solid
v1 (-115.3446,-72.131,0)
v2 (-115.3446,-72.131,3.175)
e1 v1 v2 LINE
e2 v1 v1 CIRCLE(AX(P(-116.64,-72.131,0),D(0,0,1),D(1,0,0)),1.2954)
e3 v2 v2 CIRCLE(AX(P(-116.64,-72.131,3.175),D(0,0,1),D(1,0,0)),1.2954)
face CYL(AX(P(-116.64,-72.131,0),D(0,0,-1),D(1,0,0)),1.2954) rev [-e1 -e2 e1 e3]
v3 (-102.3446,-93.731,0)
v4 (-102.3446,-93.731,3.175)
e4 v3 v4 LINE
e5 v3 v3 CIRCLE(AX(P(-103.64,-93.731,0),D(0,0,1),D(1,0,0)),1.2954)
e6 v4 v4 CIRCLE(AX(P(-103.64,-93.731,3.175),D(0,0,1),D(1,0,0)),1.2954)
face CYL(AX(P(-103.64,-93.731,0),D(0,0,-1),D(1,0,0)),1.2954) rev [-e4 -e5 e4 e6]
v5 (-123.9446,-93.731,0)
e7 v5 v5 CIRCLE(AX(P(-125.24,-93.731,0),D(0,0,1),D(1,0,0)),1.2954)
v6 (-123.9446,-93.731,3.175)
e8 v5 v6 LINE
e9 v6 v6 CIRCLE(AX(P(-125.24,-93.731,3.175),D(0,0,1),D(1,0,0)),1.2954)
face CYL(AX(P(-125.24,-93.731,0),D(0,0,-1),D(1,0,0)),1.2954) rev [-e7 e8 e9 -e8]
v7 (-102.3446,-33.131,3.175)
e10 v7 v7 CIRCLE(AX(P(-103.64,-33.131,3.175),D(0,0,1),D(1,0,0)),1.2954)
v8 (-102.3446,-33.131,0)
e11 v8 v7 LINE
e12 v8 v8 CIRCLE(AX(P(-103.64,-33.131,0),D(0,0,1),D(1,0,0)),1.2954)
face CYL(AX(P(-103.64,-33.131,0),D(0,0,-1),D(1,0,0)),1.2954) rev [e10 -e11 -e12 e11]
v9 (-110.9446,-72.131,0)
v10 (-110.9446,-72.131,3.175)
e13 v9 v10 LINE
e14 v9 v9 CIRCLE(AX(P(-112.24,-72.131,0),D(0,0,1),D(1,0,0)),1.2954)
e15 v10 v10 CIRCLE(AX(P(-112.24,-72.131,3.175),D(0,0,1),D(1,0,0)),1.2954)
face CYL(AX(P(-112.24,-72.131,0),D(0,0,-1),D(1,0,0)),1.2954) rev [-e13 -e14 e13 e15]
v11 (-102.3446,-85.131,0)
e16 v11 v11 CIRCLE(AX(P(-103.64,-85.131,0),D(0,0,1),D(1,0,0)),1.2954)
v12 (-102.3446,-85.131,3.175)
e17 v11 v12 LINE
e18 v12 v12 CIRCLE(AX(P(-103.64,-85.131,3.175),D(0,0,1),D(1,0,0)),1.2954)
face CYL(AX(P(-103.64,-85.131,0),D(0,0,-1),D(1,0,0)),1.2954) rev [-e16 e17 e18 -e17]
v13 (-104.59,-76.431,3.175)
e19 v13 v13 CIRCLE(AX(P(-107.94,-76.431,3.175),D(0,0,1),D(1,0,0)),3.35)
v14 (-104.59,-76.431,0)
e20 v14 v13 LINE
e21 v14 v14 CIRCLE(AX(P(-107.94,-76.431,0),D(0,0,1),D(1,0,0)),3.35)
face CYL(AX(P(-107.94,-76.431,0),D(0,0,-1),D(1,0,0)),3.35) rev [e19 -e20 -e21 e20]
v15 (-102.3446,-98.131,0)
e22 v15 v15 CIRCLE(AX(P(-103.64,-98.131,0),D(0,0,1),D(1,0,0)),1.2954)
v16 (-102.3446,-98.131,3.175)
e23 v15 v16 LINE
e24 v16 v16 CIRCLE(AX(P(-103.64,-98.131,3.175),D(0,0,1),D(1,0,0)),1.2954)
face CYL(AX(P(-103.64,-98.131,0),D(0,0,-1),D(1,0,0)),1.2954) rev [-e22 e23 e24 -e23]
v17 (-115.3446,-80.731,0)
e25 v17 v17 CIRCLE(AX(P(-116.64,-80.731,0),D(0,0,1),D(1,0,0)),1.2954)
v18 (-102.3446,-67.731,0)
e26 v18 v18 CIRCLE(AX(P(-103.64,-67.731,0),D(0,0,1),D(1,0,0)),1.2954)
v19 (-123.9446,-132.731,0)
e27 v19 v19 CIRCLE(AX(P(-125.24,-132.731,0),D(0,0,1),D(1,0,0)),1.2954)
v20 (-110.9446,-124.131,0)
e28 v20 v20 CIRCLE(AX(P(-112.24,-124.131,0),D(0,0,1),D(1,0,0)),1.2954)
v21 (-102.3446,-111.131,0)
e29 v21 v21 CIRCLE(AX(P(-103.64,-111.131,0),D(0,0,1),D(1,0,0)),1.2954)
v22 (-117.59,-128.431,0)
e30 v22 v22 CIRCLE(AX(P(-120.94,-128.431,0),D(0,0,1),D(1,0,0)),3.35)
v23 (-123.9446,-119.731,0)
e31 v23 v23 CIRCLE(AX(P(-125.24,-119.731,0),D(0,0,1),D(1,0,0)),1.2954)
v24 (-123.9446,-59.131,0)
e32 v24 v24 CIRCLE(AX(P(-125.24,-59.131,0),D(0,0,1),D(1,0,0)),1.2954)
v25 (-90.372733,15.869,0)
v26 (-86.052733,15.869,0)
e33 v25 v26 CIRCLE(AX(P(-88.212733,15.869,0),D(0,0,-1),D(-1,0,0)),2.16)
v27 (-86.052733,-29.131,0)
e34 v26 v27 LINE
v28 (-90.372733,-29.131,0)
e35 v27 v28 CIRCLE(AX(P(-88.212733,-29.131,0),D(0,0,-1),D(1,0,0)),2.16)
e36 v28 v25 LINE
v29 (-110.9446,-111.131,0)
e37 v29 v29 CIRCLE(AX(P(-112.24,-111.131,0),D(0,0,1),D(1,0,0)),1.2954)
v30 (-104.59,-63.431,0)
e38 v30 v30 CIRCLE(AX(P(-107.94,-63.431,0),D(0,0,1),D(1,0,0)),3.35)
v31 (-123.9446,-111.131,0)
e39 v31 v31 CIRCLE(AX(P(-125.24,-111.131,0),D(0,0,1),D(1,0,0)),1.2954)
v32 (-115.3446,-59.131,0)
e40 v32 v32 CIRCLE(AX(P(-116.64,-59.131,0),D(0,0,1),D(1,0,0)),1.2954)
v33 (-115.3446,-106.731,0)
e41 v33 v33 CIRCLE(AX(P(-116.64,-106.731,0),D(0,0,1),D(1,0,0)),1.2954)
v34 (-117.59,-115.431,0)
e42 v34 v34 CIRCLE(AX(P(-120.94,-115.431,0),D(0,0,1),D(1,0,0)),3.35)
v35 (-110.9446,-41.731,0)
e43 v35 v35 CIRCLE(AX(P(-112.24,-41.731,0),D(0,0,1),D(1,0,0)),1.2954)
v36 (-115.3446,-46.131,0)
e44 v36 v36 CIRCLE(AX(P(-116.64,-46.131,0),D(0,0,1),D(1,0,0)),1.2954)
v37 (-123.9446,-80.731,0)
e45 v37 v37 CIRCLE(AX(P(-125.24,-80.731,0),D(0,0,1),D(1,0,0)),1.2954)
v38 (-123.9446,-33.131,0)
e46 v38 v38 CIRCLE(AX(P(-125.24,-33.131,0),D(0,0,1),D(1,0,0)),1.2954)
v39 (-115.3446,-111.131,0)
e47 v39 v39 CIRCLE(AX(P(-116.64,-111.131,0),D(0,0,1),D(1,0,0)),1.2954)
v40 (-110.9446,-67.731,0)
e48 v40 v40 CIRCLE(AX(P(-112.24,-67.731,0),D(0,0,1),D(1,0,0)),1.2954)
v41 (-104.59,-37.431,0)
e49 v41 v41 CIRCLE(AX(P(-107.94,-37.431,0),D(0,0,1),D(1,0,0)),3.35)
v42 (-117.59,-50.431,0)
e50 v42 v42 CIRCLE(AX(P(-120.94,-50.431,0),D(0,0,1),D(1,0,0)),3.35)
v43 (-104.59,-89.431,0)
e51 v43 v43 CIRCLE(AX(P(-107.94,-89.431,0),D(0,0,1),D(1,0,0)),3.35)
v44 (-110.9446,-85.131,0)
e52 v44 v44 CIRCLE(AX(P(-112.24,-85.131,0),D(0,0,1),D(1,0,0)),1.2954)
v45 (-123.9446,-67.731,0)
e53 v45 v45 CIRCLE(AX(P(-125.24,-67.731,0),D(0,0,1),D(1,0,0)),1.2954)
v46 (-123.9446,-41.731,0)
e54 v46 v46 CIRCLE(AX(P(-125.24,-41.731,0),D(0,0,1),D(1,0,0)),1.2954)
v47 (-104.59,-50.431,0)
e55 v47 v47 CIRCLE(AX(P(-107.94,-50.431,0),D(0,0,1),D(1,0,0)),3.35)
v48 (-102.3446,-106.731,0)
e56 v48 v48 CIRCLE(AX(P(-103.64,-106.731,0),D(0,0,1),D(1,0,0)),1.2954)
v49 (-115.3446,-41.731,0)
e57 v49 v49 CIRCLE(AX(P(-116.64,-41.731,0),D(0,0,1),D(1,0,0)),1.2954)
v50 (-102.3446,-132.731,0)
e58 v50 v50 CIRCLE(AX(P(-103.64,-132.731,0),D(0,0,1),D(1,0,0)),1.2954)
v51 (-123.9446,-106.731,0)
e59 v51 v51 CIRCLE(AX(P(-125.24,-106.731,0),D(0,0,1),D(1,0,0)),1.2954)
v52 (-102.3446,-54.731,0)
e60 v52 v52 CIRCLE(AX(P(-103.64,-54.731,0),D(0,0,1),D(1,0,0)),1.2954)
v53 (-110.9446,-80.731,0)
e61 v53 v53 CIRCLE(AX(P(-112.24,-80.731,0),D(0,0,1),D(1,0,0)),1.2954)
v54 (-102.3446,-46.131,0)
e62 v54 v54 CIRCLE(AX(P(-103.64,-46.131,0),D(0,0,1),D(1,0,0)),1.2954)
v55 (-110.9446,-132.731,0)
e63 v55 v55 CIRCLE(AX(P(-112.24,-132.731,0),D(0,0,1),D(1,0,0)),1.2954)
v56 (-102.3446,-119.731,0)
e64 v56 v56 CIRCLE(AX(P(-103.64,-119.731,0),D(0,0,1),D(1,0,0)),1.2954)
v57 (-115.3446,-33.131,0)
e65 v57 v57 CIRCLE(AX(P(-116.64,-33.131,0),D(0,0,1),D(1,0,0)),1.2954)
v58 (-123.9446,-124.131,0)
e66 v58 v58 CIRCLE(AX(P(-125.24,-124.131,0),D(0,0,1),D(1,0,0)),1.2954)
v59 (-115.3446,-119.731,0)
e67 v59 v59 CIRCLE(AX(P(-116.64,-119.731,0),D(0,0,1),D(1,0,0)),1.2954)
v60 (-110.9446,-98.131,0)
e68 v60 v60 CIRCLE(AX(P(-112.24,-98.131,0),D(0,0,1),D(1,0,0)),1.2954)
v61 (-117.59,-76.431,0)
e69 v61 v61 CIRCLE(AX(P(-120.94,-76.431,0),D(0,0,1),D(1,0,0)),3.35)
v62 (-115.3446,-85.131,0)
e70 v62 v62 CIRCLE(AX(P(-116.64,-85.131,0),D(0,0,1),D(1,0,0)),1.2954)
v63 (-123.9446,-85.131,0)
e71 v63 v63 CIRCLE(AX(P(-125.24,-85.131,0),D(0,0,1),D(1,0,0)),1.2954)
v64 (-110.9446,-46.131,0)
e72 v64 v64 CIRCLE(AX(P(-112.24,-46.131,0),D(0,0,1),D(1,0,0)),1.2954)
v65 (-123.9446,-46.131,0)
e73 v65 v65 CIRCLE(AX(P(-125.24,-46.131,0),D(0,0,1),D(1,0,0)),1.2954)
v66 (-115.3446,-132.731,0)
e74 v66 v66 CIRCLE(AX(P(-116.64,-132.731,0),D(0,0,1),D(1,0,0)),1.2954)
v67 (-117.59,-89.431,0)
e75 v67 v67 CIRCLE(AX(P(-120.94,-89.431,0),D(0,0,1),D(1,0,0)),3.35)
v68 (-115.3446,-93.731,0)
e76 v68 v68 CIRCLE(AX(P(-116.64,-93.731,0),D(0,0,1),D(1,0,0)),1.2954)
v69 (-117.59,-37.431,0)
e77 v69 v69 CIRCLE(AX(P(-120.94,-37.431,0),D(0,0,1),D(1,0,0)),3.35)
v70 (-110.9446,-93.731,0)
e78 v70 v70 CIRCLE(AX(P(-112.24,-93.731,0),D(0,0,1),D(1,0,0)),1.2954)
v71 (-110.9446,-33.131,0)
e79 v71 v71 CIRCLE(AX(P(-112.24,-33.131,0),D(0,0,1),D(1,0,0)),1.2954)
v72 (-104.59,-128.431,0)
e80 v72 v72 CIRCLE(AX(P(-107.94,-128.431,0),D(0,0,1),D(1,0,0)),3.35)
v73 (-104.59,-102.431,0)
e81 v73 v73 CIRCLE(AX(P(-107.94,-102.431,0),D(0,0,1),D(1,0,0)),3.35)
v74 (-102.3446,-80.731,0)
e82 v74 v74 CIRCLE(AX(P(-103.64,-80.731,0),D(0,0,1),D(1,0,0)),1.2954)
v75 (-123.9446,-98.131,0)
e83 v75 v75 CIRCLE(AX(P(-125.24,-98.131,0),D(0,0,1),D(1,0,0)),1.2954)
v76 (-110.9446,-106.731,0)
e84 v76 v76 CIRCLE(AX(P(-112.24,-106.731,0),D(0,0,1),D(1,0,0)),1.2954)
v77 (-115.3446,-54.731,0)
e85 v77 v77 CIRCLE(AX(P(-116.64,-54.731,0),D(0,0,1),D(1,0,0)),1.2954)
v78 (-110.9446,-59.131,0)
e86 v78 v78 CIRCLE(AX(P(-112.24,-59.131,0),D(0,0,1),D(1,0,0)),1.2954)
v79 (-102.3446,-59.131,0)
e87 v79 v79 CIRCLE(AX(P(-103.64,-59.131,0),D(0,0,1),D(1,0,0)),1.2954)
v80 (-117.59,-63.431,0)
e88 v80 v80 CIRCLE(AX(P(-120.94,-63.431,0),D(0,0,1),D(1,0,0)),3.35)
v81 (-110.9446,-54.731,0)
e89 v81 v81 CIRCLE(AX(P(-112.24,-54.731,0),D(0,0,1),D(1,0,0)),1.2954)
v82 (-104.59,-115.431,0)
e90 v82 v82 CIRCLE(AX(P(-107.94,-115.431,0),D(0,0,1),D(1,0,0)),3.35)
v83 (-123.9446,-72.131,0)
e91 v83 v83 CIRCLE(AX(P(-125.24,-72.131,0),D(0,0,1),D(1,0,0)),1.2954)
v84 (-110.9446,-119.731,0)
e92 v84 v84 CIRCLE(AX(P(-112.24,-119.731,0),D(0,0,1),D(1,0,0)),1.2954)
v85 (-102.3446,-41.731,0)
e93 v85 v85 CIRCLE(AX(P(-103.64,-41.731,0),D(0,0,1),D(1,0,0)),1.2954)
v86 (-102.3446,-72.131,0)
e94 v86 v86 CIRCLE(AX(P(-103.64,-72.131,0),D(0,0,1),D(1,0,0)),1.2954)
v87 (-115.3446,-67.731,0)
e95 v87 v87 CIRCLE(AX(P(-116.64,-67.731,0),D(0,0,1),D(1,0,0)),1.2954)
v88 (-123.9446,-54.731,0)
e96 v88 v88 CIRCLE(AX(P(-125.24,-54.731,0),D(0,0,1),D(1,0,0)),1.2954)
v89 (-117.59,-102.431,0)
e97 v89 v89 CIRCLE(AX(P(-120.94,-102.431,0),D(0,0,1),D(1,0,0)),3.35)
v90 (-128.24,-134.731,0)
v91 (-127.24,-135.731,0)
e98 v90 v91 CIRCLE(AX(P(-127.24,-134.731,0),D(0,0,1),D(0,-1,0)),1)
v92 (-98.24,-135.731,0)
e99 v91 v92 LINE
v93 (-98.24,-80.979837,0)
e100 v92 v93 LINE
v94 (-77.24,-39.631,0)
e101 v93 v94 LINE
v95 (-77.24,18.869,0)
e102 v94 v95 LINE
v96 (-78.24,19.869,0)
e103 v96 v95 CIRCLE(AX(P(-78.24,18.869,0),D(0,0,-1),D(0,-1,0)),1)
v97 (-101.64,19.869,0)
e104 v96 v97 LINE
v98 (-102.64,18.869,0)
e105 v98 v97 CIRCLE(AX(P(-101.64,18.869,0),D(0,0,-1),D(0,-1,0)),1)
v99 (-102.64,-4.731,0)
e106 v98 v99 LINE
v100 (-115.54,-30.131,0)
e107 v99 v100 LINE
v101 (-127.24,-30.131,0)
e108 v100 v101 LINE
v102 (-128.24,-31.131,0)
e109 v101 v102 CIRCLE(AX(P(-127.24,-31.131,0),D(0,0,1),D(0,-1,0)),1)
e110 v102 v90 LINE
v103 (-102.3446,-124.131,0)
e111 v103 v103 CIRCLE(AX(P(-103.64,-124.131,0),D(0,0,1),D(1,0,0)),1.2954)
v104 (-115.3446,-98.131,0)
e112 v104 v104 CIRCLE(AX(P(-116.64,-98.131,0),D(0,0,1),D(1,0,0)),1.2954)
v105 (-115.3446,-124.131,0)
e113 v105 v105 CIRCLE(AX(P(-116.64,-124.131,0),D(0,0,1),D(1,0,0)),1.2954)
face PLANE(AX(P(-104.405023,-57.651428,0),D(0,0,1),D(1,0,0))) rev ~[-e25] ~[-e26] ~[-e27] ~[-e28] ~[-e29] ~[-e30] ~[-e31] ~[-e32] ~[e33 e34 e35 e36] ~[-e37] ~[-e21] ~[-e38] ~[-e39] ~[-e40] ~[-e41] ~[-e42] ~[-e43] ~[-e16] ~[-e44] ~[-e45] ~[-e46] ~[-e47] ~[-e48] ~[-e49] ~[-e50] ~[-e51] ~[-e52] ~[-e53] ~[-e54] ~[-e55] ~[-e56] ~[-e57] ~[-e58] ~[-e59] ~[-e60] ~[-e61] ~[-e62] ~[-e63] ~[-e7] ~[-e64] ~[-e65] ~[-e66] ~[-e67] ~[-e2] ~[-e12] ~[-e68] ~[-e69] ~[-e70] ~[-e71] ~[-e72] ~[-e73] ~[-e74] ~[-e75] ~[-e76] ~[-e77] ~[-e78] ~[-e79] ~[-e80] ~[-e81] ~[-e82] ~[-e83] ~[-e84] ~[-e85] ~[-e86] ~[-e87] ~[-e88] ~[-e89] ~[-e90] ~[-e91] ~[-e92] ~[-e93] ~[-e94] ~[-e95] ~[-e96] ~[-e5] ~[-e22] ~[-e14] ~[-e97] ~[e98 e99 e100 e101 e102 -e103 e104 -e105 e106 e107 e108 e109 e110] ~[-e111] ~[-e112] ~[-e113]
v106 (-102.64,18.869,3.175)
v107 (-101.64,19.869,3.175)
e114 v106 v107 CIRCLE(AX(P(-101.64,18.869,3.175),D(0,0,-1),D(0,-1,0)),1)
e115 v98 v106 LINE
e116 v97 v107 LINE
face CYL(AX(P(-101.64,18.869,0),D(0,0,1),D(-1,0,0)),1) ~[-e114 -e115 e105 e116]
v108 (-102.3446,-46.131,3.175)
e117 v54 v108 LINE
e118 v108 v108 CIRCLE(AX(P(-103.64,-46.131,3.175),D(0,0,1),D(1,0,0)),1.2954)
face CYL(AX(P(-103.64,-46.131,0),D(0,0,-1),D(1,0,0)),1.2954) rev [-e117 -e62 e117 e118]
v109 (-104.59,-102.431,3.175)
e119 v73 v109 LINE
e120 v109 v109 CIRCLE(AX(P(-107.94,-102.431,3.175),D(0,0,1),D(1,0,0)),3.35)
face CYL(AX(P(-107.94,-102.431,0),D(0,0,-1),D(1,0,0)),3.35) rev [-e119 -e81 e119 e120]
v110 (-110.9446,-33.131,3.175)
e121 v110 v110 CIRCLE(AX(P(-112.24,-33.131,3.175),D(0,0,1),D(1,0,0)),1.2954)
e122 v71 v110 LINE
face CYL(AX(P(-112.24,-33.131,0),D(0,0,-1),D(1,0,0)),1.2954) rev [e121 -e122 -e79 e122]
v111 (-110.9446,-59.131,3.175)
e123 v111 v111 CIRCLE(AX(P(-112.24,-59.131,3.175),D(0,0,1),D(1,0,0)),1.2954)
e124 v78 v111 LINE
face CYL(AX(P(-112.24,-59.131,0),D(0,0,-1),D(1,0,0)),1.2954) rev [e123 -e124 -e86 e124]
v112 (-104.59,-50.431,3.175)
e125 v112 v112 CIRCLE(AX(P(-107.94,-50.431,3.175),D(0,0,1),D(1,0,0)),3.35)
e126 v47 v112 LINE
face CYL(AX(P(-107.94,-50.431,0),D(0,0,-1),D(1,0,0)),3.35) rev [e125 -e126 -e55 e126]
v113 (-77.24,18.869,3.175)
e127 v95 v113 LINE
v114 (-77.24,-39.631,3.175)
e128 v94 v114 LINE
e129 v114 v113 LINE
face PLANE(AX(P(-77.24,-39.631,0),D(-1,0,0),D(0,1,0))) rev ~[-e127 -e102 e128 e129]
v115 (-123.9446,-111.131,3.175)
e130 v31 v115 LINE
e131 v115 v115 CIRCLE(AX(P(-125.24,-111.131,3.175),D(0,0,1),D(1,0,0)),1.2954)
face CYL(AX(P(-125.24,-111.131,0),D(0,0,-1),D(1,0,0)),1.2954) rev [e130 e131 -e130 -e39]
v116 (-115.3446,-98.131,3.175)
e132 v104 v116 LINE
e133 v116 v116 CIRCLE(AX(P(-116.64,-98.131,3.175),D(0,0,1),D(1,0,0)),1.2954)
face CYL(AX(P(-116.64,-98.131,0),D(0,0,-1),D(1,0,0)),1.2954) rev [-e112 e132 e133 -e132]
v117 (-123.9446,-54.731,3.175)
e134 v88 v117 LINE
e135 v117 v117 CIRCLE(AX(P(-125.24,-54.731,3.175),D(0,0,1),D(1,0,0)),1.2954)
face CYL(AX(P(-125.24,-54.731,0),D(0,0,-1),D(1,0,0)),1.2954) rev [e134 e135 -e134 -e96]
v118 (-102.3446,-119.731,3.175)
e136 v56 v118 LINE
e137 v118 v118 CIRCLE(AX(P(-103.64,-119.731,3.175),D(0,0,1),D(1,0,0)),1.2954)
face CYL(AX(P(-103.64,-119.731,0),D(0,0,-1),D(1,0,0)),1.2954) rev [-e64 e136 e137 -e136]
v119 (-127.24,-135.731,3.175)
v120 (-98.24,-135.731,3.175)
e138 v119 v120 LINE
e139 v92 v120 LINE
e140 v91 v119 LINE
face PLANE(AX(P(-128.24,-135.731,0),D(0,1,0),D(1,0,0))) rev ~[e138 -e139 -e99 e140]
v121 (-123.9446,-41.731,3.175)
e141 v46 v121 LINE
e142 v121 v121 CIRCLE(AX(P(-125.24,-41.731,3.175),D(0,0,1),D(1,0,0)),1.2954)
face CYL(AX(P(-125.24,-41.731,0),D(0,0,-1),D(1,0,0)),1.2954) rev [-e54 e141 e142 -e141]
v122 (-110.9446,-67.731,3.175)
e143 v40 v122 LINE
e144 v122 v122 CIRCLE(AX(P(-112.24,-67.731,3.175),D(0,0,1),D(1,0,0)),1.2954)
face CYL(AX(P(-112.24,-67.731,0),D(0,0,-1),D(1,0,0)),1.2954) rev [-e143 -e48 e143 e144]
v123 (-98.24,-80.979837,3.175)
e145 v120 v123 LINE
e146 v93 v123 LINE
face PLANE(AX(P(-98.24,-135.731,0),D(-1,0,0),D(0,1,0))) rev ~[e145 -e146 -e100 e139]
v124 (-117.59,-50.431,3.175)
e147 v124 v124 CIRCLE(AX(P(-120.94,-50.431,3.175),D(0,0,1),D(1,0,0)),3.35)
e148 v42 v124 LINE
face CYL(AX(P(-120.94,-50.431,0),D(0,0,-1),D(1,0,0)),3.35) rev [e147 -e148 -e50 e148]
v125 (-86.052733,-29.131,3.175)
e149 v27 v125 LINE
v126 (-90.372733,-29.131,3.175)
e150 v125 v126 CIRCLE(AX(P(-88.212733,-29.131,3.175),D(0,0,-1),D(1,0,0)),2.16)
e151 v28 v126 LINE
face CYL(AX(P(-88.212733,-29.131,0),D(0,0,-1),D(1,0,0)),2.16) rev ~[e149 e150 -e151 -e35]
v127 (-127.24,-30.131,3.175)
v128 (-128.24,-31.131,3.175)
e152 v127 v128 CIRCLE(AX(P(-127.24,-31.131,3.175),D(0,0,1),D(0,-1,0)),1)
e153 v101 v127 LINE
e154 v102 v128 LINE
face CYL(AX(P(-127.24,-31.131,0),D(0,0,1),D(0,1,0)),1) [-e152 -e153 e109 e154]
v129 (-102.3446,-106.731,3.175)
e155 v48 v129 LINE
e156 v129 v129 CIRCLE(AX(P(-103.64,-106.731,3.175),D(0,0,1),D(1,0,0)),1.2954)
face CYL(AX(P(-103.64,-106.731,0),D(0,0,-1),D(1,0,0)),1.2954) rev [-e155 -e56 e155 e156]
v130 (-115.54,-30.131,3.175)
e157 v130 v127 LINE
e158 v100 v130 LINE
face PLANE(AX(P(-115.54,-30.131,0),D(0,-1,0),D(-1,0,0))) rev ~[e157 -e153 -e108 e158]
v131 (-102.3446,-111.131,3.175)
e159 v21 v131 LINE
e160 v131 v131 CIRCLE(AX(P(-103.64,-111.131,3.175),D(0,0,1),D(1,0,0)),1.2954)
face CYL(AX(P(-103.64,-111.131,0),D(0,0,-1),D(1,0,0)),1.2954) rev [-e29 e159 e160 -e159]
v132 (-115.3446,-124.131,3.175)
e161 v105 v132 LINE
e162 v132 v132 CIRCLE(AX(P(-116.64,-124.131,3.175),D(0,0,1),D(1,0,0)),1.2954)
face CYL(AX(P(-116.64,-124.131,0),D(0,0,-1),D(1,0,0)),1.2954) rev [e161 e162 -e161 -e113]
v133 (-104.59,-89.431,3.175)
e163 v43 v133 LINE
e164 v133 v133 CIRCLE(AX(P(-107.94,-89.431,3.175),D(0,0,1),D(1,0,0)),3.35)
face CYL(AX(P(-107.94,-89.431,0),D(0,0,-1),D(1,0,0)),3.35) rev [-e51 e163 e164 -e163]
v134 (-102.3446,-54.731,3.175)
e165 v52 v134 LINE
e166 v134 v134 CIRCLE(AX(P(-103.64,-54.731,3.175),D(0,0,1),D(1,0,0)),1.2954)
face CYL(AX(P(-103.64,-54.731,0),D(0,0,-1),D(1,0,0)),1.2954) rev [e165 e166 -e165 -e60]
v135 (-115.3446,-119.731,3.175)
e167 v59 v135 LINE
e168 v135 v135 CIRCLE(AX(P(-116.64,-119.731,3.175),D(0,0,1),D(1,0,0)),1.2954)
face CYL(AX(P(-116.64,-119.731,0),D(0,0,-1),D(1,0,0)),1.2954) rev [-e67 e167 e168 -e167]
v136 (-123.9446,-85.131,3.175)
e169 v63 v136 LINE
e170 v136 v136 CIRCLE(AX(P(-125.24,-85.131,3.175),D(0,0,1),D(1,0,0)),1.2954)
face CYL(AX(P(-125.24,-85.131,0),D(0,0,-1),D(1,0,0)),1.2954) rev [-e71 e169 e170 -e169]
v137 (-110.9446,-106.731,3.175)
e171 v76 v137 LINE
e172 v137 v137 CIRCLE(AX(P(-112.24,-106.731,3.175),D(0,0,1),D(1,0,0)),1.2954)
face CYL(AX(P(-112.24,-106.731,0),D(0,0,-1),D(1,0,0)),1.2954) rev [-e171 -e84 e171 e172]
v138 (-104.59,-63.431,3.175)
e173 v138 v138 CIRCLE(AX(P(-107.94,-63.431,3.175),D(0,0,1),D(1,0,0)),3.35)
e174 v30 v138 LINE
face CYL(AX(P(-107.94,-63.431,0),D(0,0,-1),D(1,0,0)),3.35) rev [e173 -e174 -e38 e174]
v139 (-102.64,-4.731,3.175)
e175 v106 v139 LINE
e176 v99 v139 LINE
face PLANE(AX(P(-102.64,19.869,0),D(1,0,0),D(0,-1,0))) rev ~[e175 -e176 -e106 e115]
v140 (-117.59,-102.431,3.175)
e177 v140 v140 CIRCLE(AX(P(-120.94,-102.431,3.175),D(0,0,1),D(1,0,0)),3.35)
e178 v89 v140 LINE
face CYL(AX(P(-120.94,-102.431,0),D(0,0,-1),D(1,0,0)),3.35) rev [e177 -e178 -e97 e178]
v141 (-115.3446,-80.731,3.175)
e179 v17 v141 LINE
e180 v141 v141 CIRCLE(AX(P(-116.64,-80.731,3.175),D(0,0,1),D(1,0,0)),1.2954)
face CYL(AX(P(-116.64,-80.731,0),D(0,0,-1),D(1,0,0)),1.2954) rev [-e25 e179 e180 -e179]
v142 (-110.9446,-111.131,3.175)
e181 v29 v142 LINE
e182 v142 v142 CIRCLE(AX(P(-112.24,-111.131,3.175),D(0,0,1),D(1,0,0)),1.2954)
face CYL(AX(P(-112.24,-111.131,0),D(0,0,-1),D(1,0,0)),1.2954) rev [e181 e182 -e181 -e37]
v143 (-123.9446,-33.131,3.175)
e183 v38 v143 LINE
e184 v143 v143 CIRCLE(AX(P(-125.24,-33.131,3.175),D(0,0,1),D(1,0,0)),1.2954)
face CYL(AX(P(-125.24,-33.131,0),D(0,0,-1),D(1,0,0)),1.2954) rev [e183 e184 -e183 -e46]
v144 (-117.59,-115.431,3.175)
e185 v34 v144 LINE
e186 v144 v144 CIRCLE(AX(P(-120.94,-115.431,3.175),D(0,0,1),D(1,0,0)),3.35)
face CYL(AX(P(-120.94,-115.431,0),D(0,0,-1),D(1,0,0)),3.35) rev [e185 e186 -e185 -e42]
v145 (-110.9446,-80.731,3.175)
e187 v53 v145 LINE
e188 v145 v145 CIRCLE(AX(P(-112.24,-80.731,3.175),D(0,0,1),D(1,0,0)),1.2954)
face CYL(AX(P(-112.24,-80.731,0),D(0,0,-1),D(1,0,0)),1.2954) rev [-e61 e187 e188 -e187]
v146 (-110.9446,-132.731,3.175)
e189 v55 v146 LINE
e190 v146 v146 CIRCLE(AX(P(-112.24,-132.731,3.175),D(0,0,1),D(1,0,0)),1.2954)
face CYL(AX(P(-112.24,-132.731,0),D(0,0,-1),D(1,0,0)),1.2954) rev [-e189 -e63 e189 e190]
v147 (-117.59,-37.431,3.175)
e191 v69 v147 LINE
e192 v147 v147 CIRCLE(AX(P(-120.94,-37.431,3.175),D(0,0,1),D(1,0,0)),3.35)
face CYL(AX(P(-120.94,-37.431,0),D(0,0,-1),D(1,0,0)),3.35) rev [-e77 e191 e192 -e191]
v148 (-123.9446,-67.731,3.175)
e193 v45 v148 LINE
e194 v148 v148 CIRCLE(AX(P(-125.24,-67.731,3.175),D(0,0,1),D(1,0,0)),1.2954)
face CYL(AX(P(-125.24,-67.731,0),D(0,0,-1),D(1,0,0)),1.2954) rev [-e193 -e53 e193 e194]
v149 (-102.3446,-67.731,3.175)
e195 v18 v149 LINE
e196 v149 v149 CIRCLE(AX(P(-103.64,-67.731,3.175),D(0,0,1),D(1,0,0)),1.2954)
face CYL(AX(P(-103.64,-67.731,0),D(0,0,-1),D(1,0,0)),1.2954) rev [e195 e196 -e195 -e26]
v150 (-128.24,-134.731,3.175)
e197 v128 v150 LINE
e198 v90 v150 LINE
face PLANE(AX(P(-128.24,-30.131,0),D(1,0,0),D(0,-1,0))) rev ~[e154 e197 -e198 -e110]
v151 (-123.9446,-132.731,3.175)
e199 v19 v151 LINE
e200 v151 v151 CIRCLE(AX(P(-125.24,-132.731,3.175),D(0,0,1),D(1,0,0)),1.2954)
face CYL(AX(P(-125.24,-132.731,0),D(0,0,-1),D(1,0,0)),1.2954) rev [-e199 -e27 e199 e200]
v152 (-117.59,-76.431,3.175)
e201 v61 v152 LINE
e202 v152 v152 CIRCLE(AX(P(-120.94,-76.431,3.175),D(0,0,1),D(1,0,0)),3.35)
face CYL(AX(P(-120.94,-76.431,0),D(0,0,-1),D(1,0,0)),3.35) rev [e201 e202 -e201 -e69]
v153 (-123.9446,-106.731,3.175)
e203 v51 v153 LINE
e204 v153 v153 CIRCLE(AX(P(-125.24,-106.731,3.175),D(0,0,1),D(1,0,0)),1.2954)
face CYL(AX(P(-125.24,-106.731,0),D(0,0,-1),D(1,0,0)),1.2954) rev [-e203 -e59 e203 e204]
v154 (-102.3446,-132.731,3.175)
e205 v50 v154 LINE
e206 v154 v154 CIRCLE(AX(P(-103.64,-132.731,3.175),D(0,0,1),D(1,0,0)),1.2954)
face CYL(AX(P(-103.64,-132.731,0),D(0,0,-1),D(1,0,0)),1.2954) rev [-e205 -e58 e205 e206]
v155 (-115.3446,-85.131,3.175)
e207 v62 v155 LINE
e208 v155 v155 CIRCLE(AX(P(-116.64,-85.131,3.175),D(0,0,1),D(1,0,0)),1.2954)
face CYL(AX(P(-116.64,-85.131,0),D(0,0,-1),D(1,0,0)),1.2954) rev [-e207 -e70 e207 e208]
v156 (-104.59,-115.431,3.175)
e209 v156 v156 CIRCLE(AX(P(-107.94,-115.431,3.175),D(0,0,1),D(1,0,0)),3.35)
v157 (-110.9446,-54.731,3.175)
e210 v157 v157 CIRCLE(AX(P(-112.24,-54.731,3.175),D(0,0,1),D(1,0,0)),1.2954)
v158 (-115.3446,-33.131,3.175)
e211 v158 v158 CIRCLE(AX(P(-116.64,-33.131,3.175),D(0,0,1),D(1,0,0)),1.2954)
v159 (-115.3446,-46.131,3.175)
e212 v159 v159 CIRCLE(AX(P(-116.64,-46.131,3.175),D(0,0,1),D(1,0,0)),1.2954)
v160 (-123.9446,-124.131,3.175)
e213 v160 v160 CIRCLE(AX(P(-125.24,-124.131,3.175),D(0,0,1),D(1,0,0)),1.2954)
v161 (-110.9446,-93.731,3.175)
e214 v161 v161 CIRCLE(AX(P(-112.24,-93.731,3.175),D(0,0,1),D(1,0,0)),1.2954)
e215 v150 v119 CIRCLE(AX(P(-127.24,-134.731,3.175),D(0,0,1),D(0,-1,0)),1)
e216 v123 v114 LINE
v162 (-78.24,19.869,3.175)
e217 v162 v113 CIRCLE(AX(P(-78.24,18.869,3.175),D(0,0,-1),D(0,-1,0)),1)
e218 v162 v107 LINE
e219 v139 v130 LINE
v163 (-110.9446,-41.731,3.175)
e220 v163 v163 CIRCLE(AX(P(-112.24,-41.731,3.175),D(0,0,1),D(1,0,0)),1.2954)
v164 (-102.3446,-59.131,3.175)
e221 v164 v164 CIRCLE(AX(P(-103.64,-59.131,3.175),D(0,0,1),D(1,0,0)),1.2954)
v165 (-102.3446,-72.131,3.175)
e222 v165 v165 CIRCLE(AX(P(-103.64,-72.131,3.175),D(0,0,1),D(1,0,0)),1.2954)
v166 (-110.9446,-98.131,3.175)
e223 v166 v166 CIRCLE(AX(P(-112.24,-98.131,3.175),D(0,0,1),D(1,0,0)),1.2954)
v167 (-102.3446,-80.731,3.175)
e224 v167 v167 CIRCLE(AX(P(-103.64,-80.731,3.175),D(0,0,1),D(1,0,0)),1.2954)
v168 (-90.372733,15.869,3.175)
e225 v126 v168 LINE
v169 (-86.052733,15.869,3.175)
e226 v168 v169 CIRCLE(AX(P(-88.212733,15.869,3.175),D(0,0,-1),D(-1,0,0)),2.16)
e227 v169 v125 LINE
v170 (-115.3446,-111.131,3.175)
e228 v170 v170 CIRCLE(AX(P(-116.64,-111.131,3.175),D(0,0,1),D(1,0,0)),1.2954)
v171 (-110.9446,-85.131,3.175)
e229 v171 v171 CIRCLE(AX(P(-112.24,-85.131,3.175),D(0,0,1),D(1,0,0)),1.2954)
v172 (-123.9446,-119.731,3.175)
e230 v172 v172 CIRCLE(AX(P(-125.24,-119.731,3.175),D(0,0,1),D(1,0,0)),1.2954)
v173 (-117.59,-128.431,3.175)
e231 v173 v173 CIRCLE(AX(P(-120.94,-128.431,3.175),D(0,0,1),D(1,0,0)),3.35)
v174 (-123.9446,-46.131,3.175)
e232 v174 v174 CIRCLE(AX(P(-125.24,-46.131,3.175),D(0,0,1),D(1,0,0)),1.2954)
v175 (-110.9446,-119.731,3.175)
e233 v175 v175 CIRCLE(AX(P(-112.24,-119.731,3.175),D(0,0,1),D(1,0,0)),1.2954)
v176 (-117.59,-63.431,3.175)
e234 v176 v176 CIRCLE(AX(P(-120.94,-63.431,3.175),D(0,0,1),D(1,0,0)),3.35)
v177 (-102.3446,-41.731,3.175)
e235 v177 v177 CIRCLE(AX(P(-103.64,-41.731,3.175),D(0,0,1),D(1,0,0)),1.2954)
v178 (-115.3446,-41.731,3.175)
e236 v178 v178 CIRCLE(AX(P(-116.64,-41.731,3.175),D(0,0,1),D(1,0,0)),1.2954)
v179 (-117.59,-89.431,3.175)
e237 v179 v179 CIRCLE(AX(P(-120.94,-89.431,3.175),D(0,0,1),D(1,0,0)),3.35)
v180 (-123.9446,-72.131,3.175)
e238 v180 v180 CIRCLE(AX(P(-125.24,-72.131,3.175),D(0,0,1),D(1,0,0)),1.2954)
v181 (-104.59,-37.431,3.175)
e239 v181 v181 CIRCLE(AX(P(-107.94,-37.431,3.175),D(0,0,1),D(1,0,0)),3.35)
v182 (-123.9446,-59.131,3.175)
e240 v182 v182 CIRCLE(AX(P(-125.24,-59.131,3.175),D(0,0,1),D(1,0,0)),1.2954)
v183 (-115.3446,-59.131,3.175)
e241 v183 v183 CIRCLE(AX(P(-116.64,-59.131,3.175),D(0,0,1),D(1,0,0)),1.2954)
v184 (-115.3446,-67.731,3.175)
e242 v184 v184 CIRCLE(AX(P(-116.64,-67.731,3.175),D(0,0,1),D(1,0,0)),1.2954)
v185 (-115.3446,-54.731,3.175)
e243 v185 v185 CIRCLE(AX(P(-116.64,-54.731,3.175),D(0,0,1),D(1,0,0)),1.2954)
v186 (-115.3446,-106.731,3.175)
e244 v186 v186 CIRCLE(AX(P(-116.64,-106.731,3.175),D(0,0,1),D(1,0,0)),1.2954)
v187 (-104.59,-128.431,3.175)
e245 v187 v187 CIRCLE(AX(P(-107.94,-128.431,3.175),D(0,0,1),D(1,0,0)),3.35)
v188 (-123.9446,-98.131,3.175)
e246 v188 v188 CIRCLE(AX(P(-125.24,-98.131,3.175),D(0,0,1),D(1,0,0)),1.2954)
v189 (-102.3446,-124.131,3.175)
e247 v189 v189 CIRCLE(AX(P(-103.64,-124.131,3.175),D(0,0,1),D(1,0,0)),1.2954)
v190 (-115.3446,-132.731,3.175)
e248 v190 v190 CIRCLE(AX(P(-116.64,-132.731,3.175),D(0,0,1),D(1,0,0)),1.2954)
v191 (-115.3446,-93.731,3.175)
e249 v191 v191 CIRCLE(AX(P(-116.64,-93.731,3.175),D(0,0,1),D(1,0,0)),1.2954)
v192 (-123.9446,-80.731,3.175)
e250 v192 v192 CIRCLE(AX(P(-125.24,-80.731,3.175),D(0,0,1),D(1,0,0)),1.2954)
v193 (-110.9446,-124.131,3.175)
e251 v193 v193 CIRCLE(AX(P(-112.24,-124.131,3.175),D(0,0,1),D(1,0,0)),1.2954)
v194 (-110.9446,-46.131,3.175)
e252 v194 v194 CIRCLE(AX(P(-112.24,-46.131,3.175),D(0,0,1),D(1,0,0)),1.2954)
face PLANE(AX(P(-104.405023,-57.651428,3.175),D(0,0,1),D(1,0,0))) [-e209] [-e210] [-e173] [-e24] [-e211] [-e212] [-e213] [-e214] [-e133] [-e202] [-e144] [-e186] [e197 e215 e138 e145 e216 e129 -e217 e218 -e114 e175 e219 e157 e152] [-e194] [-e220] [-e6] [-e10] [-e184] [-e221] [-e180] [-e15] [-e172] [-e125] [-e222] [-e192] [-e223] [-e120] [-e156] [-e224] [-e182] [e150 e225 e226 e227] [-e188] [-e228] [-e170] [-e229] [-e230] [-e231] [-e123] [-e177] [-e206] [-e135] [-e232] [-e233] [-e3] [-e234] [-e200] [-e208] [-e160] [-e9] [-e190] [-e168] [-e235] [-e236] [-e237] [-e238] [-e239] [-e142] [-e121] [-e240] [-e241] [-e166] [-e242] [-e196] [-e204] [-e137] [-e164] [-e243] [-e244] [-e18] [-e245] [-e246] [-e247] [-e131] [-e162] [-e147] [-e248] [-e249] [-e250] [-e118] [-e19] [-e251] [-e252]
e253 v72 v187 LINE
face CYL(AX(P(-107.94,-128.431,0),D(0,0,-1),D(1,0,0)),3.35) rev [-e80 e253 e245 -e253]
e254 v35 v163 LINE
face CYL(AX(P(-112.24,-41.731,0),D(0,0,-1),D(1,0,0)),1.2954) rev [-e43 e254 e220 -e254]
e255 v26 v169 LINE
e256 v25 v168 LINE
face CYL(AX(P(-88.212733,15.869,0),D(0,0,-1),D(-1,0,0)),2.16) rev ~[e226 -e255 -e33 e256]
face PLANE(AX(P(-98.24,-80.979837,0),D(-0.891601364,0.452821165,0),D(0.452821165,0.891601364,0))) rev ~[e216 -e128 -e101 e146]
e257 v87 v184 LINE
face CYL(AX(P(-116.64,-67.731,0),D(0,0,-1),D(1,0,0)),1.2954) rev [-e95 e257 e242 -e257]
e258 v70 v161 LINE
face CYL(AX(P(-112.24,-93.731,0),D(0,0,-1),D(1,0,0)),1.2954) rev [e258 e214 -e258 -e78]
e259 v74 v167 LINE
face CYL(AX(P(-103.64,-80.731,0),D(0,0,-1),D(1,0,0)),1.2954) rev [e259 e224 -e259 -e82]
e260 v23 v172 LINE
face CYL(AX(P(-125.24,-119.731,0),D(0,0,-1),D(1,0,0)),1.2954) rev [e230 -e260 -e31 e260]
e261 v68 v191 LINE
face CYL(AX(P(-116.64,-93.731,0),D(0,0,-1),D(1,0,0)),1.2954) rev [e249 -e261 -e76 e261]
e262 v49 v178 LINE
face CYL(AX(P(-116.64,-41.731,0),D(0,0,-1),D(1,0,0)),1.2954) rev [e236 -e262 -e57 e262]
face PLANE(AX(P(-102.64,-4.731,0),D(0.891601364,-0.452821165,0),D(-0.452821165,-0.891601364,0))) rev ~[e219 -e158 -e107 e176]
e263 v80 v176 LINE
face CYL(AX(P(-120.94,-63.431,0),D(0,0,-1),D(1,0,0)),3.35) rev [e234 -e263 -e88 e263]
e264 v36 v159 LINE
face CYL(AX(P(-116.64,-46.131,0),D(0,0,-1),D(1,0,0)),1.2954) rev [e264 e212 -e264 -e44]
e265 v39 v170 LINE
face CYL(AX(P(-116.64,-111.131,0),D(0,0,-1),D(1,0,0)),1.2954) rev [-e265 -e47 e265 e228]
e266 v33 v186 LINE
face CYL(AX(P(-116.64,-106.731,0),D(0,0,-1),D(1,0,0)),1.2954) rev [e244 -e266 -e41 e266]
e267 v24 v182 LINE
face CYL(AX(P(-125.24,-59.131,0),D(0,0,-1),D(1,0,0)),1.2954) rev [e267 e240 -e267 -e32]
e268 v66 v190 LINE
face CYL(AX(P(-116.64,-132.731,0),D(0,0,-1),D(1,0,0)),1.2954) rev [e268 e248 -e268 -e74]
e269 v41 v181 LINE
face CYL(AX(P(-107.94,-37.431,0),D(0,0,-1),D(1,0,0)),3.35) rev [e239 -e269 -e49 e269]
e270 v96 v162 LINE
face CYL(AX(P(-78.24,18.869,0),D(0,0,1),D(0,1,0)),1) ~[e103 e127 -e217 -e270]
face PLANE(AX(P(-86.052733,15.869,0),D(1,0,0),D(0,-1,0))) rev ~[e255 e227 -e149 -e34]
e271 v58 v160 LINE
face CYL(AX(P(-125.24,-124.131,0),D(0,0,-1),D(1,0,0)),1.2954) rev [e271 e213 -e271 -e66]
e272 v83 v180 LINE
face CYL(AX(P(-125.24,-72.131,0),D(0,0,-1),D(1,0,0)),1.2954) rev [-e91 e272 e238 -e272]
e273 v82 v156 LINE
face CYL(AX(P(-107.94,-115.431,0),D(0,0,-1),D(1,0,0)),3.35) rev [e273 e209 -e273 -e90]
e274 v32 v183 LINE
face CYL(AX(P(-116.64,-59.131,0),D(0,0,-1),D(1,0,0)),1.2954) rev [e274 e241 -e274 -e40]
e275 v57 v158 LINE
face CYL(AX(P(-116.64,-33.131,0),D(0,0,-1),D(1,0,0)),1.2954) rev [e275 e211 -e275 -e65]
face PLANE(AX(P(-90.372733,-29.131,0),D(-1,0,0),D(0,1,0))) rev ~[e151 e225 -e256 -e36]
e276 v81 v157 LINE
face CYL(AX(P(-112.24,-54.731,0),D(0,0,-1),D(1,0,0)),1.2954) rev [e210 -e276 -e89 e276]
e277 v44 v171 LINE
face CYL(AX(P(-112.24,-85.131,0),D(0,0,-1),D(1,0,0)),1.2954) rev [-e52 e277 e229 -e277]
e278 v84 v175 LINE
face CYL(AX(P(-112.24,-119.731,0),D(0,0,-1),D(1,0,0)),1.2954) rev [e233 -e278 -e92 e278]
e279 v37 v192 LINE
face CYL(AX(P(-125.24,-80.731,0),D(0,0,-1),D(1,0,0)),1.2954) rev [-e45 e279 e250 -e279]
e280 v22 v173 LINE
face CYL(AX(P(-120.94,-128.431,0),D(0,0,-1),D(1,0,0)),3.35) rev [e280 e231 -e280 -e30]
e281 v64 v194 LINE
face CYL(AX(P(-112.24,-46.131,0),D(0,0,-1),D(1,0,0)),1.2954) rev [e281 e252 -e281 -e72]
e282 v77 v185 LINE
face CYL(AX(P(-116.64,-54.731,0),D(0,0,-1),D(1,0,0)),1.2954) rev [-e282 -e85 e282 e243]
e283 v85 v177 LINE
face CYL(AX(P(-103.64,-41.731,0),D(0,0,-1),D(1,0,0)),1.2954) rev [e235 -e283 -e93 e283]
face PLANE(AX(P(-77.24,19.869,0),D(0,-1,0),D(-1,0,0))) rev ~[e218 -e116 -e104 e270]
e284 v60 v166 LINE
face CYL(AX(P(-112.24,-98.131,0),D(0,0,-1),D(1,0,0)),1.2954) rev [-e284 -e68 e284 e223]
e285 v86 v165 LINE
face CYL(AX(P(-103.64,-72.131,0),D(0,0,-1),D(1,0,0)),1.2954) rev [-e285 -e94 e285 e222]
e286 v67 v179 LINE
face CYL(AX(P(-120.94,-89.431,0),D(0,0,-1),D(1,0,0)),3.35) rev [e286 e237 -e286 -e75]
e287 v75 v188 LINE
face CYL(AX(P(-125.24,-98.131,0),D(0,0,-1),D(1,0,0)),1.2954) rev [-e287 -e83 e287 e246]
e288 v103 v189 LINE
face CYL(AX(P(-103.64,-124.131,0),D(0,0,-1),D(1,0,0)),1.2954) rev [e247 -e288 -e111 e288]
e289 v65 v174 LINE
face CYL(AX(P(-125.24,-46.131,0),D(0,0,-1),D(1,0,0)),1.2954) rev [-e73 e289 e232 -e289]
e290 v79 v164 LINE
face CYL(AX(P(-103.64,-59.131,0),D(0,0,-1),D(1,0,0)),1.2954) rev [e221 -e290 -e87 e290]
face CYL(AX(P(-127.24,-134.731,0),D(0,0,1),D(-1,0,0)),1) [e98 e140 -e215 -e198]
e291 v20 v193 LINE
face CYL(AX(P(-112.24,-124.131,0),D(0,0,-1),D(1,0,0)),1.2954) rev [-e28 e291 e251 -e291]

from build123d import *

# Parameters (mm, degrees)
SKETCH2_R           = 1.2954
SKETCH2_R_2         = 3.35
BOSS_EXTRUDE1_DEPTH = 3.175
FILLET1_R           = 1
FILLET2_R           = 1


with BuildPart() as part:
    # Sketch2 → Boss-Extrude1 (new body)
    with BuildSketch(Plane.XY):
        Polygon((-115.54, -30.131), (-128.24, -30.131), (-128.24, -135.731), (-98.24, -135.731), (-98.24, -80.979837209), (-77.24, -39.631), (-77.24, 19.869), (-102.64, 19.869), (-102.64, -4.731), align=None)
        with BuildLine():
            Line((-90.372732921, -29.131), (-90.372732921, 15.869))
            ThreePointArc((-90.372732921, 15.869), (-88.212732921, 18.029), (-86.052732921, 15.869))
            Line((-86.052732921, 15.869), (-86.052732921, -29.131))
            ThreePointArc((-86.052732921, -29.131), (-88.212732921, -31.291), (-90.372732921, -29.131))
        make_face(mode=Mode.SUBTRACT)
        with Locations((-125.24, -132.731)):
            Circle(SKETCH2_R, mode=Mode.SUBTRACT)
        with Locations((-125.24, -124.131)):
            Circle(SKETCH2_R, mode=Mode.SUBTRACT)
        with Locations((-125.24, -119.731)):
            Circle(SKETCH2_R, mode=Mode.SUBTRACT)
        with Locations((-120.94, -128.431)):
            Circle(SKETCH2_R_2, mode=Mode.SUBTRACT)
        with Locations((-116.64, -132.731)):
            Circle(SKETCH2_R, mode=Mode.SUBTRACT)
        with Locations((-116.64, -124.131)):
            Circle(SKETCH2_R, mode=Mode.SUBTRACT)
        with Locations((-116.64, -119.731)):
            Circle(SKETCH2_R, mode=Mode.SUBTRACT)
        with Locations((-125.24, -111.131)):
            Circle(SKETCH2_R, mode=Mode.SUBTRACT)
        with Locations((-125.24, -106.731)):
            Circle(SKETCH2_R, mode=Mode.SUBTRACT)
        with Locations((-125.24, -98.131)):
            Circle(SKETCH2_R, mode=Mode.SUBTRACT)
        with Locations((-120.94, -115.431)):
            Circle(SKETCH2_R_2, mode=Mode.SUBTRACT)
        with Locations((-116.64, -111.131)):
            Circle(SKETCH2_R, mode=Mode.SUBTRACT)
        with Locations((-116.64, -106.731)):
            Circle(SKETCH2_R, mode=Mode.SUBTRACT)
        with Locations((-120.94, -102.431)):
            Circle(SKETCH2_R_2, mode=Mode.SUBTRACT)
        with Locations((-116.64, -98.131)):
            Circle(SKETCH2_R, mode=Mode.SUBTRACT)
        with Locations((-112.24, -132.731)):
            Circle(SKETCH2_R, mode=Mode.SUBTRACT)
        with Locations((-112.24, -124.131)):
            Circle(SKETCH2_R, mode=Mode.SUBTRACT)
        with Locations((-112.24, -119.731)):
            Circle(SKETCH2_R, mode=Mode.SUBTRACT)
        with Locations((-107.94, -128.431)):
            Circle(SKETCH2_R_2, mode=Mode.SUBTRACT)
        with Locations((-103.64, -132.731)):
            Circle(SKETCH2_R, mode=Mode.SUBTRACT)
        with Locations((-103.64, -124.131)):
            Circle(SKETCH2_R, mode=Mode.SUBTRACT)
        with Locations((-103.64, -119.731)):
            Circle(SKETCH2_R, mode=Mode.SUBTRACT)
        with Locations((-112.24, -111.131)):
            Circle(SKETCH2_R, mode=Mode.SUBTRACT)
        with Locations((-112.24, -106.731)):
            Circle(SKETCH2_R, mode=Mode.SUBTRACT)
        with Locations((-112.24, -98.131)):
            Circle(SKETCH2_R, mode=Mode.SUBTRACT)
        with Locations((-107.94, -115.431)):
            Circle(SKETCH2_R_2, mode=Mode.SUBTRACT)
        with Locations((-103.64, -111.131)):
            Circle(SKETCH2_R, mode=Mode.SUBTRACT)
        with Locations((-103.64, -106.731)):
            Circle(SKETCH2_R, mode=Mode.SUBTRACT)
        with Locations((-107.94, -102.431)):
            Circle(SKETCH2_R_2, mode=Mode.SUBTRACT)
        with Locations((-103.64, -98.131)):
            Circle(SKETCH2_R, mode=Mode.SUBTRACT)
        with Locations((-125.24, -93.731)):
            Circle(SKETCH2_R, mode=Mode.SUBTRACT)
        with Locations((-125.24, -85.131)):
            Circle(SKETCH2_R, mode=Mode.SUBTRACT)
        with Locations((-125.24, -80.731)):
            Circle(SKETCH2_R, mode=Mode.SUBTRACT)
        with Locations((-120.94, -89.431)):
            Circle(SKETCH2_R_2, mode=Mode.SUBTRACT)
        with Locations((-116.64, -93.731)):
            Circle(SKETCH2_R, mode=Mode.SUBTRACT)
        with Locations((-116.64, -85.131)):
            Circle(SKETCH2_R, mode=Mode.SUBTRACT)
        with Locations((-116.64, -80.731)):
            Circle(SKETCH2_R, mode=Mode.SUBTRACT)
        with Locations((-125.24, -72.131)):
            Circle(SKETCH2_R, mode=Mode.SUBTRACT)
        with Locations((-125.24, -67.731)):
            Circle(SKETCH2_R, mode=Mode.SUBTRACT)
        with Locations((-125.24, -59.131)):
            Circle(SKETCH2_R, mode=Mode.SUBTRACT)
        with Locations((-120.94, -76.431)):
            Circle(SKETCH2_R_2, mode=Mode.SUBTRACT)
        with Locations((-116.64, -72.131)):
            Circle(SKETCH2_R, mode=Mode.SUBTRACT)
        with Locations((-116.64, -67.731)):
            Circle(SKETCH2_R, mode=Mode.SUBTRACT)
        with Locations((-120.94, -63.431)):
            Circle(SKETCH2_R_2, mode=Mode.SUBTRACT)
        with Locations((-116.64, -59.131)):
            Circle(SKETCH2_R, mode=Mode.SUBTRACT)
        with Locations((-112.24, -93.731)):
            Circle(SKETCH2_R, mode=Mode.SUBTRACT)
        with Locations((-112.24, -85.131)):
            Circle(SKETCH2_R, mode=Mode.SUBTRACT)
        with Locations((-112.24, -80.731)):
            Circle(SKETCH2_R, mode=Mode.SUBTRACT)
        with Locations((-107.94, -89.431)):
            Circle(SKETCH2_R_2, mode=Mode.SUBTRACT)
        with Locations((-103.64, -93.731)):
            Circle(SKETCH2_R, mode=Mode.SUBTRACT)
        with Locations((-103.64, -85.131)):
            Circle(SKETCH2_R, mode=Mode.SUBTRACT)
        with Locations((-103.64, -80.731)):
            Circle(SKETCH2_R, mode=Mode.SUBTRACT)
        with Locations((-112.24, -72.131)):
            Circle(SKETCH2_R, mode=Mode.SUBTRACT)
        with Locations((-112.24, -67.731)):
            Circle(SKETCH2_R, mode=Mode.SUBTRACT)
        with Locations((-112.24, -59.131)):
            Circle(SKETCH2_R, mode=Mode.SUBTRACT)
        with Locations((-107.94, -76.431)):
            Circle(SKETCH2_R_2, mode=Mode.SUBTRACT)
        with Locations((-103.64, -72.131)):
            Circle(SKETCH2_R, mode=Mode.SUBTRACT)
        with Locations((-103.64, -67.731)):
            Circle(SKETCH2_R, mode=Mode.SUBTRACT)
        with Locations((-107.94, -63.431)):
            Circle(SKETCH2_R_2, mode=Mode.SUBTRACT)
        with Locations((-103.64, -59.131)):
            Circle(SKETCH2_R, mode=Mode.SUBTRACT)
        with Locations((-125.24, -54.731)):
            Circle(SKETCH2_R, mode=Mode.SUBTRACT)
        with Locations((-125.24, -46.131)):
            Circle(SKETCH2_R, mode=Mode.SUBTRACT)
        with Locations((-125.24, -41.731)):
            Circle(SKETCH2_R, mode=Mode.SUBTRACT)
        with Locations((-120.94, -50.431)):
            Circle(SKETCH2_R_2, mode=Mode.SUBTRACT)
        with Locations((-116.64, -54.731)):
            Circle(SKETCH2_R, mode=Mode.SUBTRACT)
        with Locations((-116.64, -46.131)):
            Circle(SKETCH2_R, mode=Mode.SUBTRACT)
        with Locations((-116.64, -41.731)):
            Circle(SKETCH2_R, mode=Mode.SUBTRACT)
        with Locations((-125.24, -33.131)):
            Circle(SKETCH2_R, mode=Mode.SUBTRACT)
        with Locations((-120.94, -37.431)):
            Circle(SKETCH2_R_2, mode=Mode.SUBTRACT)
        with Locations((-116.64, -33.131)):
            Circle(SKETCH2_R, mode=Mode.SUBTRACT)
        with Locations((-112.24, -54.731)):
            Circle(SKETCH2_R, mode=Mode.SUBTRACT)
        with Locations((-112.24, -46.131)):
            Circle(SKETCH2_R, mode=Mode.SUBTRACT)
        with Locations((-112.24, -41.731)):
            Circle(SKETCH2_R, mode=Mode.SUBTRACT)
        with Locations((-107.94, -50.431)):
            Circle(SKETCH2_R_2, mode=Mode.SUBTRACT)
        with Locations((-103.64, -54.731)):
            Circle(SKETCH2_R, mode=Mode.SUBTRACT)
        with Locations((-103.64, -46.131)):
            Circle(SKETCH2_R, mode=Mode.SUBTRACT)
        with Locations((-103.64, -41.731)):
            Circle(SKETCH2_R, mode=Mode.SUBTRACT)
        with Locations((-112.24, -33.131)):
            Circle(SKETCH2_R, mode=Mode.SUBTRACT)
        with Locations((-107.94, -37.431)):
            Circle(SKETCH2_R_2, mode=Mode.SUBTRACT)
        with Locations((-103.64, -33.131)):
            Circle(SKETCH2_R, mode=Mode.SUBTRACT)
    extrude(amount=BOSS_EXTRUDE1_DEPTH)

    # Fillet1
    fillet1_edges = [part.edges().sort_by_distance(p)[0] for p in [
        (-102.64, 19.869, 1.5875),
    ]]
    fillet(fillet1_edges, radius=FILLET1_R)

    # Fillet2
    fillet2_edges = [part.edges().sort_by_distance(p)[0] for p in [
        (-128.24, -135.731, 1.5875),
        (-128.24, -30.131, 1.5875),
        (-77.24, 19.869, 1.5875),
    ]]
    fillet(fillet2_edges, radius=FILLET2_R)


solid = part.part
